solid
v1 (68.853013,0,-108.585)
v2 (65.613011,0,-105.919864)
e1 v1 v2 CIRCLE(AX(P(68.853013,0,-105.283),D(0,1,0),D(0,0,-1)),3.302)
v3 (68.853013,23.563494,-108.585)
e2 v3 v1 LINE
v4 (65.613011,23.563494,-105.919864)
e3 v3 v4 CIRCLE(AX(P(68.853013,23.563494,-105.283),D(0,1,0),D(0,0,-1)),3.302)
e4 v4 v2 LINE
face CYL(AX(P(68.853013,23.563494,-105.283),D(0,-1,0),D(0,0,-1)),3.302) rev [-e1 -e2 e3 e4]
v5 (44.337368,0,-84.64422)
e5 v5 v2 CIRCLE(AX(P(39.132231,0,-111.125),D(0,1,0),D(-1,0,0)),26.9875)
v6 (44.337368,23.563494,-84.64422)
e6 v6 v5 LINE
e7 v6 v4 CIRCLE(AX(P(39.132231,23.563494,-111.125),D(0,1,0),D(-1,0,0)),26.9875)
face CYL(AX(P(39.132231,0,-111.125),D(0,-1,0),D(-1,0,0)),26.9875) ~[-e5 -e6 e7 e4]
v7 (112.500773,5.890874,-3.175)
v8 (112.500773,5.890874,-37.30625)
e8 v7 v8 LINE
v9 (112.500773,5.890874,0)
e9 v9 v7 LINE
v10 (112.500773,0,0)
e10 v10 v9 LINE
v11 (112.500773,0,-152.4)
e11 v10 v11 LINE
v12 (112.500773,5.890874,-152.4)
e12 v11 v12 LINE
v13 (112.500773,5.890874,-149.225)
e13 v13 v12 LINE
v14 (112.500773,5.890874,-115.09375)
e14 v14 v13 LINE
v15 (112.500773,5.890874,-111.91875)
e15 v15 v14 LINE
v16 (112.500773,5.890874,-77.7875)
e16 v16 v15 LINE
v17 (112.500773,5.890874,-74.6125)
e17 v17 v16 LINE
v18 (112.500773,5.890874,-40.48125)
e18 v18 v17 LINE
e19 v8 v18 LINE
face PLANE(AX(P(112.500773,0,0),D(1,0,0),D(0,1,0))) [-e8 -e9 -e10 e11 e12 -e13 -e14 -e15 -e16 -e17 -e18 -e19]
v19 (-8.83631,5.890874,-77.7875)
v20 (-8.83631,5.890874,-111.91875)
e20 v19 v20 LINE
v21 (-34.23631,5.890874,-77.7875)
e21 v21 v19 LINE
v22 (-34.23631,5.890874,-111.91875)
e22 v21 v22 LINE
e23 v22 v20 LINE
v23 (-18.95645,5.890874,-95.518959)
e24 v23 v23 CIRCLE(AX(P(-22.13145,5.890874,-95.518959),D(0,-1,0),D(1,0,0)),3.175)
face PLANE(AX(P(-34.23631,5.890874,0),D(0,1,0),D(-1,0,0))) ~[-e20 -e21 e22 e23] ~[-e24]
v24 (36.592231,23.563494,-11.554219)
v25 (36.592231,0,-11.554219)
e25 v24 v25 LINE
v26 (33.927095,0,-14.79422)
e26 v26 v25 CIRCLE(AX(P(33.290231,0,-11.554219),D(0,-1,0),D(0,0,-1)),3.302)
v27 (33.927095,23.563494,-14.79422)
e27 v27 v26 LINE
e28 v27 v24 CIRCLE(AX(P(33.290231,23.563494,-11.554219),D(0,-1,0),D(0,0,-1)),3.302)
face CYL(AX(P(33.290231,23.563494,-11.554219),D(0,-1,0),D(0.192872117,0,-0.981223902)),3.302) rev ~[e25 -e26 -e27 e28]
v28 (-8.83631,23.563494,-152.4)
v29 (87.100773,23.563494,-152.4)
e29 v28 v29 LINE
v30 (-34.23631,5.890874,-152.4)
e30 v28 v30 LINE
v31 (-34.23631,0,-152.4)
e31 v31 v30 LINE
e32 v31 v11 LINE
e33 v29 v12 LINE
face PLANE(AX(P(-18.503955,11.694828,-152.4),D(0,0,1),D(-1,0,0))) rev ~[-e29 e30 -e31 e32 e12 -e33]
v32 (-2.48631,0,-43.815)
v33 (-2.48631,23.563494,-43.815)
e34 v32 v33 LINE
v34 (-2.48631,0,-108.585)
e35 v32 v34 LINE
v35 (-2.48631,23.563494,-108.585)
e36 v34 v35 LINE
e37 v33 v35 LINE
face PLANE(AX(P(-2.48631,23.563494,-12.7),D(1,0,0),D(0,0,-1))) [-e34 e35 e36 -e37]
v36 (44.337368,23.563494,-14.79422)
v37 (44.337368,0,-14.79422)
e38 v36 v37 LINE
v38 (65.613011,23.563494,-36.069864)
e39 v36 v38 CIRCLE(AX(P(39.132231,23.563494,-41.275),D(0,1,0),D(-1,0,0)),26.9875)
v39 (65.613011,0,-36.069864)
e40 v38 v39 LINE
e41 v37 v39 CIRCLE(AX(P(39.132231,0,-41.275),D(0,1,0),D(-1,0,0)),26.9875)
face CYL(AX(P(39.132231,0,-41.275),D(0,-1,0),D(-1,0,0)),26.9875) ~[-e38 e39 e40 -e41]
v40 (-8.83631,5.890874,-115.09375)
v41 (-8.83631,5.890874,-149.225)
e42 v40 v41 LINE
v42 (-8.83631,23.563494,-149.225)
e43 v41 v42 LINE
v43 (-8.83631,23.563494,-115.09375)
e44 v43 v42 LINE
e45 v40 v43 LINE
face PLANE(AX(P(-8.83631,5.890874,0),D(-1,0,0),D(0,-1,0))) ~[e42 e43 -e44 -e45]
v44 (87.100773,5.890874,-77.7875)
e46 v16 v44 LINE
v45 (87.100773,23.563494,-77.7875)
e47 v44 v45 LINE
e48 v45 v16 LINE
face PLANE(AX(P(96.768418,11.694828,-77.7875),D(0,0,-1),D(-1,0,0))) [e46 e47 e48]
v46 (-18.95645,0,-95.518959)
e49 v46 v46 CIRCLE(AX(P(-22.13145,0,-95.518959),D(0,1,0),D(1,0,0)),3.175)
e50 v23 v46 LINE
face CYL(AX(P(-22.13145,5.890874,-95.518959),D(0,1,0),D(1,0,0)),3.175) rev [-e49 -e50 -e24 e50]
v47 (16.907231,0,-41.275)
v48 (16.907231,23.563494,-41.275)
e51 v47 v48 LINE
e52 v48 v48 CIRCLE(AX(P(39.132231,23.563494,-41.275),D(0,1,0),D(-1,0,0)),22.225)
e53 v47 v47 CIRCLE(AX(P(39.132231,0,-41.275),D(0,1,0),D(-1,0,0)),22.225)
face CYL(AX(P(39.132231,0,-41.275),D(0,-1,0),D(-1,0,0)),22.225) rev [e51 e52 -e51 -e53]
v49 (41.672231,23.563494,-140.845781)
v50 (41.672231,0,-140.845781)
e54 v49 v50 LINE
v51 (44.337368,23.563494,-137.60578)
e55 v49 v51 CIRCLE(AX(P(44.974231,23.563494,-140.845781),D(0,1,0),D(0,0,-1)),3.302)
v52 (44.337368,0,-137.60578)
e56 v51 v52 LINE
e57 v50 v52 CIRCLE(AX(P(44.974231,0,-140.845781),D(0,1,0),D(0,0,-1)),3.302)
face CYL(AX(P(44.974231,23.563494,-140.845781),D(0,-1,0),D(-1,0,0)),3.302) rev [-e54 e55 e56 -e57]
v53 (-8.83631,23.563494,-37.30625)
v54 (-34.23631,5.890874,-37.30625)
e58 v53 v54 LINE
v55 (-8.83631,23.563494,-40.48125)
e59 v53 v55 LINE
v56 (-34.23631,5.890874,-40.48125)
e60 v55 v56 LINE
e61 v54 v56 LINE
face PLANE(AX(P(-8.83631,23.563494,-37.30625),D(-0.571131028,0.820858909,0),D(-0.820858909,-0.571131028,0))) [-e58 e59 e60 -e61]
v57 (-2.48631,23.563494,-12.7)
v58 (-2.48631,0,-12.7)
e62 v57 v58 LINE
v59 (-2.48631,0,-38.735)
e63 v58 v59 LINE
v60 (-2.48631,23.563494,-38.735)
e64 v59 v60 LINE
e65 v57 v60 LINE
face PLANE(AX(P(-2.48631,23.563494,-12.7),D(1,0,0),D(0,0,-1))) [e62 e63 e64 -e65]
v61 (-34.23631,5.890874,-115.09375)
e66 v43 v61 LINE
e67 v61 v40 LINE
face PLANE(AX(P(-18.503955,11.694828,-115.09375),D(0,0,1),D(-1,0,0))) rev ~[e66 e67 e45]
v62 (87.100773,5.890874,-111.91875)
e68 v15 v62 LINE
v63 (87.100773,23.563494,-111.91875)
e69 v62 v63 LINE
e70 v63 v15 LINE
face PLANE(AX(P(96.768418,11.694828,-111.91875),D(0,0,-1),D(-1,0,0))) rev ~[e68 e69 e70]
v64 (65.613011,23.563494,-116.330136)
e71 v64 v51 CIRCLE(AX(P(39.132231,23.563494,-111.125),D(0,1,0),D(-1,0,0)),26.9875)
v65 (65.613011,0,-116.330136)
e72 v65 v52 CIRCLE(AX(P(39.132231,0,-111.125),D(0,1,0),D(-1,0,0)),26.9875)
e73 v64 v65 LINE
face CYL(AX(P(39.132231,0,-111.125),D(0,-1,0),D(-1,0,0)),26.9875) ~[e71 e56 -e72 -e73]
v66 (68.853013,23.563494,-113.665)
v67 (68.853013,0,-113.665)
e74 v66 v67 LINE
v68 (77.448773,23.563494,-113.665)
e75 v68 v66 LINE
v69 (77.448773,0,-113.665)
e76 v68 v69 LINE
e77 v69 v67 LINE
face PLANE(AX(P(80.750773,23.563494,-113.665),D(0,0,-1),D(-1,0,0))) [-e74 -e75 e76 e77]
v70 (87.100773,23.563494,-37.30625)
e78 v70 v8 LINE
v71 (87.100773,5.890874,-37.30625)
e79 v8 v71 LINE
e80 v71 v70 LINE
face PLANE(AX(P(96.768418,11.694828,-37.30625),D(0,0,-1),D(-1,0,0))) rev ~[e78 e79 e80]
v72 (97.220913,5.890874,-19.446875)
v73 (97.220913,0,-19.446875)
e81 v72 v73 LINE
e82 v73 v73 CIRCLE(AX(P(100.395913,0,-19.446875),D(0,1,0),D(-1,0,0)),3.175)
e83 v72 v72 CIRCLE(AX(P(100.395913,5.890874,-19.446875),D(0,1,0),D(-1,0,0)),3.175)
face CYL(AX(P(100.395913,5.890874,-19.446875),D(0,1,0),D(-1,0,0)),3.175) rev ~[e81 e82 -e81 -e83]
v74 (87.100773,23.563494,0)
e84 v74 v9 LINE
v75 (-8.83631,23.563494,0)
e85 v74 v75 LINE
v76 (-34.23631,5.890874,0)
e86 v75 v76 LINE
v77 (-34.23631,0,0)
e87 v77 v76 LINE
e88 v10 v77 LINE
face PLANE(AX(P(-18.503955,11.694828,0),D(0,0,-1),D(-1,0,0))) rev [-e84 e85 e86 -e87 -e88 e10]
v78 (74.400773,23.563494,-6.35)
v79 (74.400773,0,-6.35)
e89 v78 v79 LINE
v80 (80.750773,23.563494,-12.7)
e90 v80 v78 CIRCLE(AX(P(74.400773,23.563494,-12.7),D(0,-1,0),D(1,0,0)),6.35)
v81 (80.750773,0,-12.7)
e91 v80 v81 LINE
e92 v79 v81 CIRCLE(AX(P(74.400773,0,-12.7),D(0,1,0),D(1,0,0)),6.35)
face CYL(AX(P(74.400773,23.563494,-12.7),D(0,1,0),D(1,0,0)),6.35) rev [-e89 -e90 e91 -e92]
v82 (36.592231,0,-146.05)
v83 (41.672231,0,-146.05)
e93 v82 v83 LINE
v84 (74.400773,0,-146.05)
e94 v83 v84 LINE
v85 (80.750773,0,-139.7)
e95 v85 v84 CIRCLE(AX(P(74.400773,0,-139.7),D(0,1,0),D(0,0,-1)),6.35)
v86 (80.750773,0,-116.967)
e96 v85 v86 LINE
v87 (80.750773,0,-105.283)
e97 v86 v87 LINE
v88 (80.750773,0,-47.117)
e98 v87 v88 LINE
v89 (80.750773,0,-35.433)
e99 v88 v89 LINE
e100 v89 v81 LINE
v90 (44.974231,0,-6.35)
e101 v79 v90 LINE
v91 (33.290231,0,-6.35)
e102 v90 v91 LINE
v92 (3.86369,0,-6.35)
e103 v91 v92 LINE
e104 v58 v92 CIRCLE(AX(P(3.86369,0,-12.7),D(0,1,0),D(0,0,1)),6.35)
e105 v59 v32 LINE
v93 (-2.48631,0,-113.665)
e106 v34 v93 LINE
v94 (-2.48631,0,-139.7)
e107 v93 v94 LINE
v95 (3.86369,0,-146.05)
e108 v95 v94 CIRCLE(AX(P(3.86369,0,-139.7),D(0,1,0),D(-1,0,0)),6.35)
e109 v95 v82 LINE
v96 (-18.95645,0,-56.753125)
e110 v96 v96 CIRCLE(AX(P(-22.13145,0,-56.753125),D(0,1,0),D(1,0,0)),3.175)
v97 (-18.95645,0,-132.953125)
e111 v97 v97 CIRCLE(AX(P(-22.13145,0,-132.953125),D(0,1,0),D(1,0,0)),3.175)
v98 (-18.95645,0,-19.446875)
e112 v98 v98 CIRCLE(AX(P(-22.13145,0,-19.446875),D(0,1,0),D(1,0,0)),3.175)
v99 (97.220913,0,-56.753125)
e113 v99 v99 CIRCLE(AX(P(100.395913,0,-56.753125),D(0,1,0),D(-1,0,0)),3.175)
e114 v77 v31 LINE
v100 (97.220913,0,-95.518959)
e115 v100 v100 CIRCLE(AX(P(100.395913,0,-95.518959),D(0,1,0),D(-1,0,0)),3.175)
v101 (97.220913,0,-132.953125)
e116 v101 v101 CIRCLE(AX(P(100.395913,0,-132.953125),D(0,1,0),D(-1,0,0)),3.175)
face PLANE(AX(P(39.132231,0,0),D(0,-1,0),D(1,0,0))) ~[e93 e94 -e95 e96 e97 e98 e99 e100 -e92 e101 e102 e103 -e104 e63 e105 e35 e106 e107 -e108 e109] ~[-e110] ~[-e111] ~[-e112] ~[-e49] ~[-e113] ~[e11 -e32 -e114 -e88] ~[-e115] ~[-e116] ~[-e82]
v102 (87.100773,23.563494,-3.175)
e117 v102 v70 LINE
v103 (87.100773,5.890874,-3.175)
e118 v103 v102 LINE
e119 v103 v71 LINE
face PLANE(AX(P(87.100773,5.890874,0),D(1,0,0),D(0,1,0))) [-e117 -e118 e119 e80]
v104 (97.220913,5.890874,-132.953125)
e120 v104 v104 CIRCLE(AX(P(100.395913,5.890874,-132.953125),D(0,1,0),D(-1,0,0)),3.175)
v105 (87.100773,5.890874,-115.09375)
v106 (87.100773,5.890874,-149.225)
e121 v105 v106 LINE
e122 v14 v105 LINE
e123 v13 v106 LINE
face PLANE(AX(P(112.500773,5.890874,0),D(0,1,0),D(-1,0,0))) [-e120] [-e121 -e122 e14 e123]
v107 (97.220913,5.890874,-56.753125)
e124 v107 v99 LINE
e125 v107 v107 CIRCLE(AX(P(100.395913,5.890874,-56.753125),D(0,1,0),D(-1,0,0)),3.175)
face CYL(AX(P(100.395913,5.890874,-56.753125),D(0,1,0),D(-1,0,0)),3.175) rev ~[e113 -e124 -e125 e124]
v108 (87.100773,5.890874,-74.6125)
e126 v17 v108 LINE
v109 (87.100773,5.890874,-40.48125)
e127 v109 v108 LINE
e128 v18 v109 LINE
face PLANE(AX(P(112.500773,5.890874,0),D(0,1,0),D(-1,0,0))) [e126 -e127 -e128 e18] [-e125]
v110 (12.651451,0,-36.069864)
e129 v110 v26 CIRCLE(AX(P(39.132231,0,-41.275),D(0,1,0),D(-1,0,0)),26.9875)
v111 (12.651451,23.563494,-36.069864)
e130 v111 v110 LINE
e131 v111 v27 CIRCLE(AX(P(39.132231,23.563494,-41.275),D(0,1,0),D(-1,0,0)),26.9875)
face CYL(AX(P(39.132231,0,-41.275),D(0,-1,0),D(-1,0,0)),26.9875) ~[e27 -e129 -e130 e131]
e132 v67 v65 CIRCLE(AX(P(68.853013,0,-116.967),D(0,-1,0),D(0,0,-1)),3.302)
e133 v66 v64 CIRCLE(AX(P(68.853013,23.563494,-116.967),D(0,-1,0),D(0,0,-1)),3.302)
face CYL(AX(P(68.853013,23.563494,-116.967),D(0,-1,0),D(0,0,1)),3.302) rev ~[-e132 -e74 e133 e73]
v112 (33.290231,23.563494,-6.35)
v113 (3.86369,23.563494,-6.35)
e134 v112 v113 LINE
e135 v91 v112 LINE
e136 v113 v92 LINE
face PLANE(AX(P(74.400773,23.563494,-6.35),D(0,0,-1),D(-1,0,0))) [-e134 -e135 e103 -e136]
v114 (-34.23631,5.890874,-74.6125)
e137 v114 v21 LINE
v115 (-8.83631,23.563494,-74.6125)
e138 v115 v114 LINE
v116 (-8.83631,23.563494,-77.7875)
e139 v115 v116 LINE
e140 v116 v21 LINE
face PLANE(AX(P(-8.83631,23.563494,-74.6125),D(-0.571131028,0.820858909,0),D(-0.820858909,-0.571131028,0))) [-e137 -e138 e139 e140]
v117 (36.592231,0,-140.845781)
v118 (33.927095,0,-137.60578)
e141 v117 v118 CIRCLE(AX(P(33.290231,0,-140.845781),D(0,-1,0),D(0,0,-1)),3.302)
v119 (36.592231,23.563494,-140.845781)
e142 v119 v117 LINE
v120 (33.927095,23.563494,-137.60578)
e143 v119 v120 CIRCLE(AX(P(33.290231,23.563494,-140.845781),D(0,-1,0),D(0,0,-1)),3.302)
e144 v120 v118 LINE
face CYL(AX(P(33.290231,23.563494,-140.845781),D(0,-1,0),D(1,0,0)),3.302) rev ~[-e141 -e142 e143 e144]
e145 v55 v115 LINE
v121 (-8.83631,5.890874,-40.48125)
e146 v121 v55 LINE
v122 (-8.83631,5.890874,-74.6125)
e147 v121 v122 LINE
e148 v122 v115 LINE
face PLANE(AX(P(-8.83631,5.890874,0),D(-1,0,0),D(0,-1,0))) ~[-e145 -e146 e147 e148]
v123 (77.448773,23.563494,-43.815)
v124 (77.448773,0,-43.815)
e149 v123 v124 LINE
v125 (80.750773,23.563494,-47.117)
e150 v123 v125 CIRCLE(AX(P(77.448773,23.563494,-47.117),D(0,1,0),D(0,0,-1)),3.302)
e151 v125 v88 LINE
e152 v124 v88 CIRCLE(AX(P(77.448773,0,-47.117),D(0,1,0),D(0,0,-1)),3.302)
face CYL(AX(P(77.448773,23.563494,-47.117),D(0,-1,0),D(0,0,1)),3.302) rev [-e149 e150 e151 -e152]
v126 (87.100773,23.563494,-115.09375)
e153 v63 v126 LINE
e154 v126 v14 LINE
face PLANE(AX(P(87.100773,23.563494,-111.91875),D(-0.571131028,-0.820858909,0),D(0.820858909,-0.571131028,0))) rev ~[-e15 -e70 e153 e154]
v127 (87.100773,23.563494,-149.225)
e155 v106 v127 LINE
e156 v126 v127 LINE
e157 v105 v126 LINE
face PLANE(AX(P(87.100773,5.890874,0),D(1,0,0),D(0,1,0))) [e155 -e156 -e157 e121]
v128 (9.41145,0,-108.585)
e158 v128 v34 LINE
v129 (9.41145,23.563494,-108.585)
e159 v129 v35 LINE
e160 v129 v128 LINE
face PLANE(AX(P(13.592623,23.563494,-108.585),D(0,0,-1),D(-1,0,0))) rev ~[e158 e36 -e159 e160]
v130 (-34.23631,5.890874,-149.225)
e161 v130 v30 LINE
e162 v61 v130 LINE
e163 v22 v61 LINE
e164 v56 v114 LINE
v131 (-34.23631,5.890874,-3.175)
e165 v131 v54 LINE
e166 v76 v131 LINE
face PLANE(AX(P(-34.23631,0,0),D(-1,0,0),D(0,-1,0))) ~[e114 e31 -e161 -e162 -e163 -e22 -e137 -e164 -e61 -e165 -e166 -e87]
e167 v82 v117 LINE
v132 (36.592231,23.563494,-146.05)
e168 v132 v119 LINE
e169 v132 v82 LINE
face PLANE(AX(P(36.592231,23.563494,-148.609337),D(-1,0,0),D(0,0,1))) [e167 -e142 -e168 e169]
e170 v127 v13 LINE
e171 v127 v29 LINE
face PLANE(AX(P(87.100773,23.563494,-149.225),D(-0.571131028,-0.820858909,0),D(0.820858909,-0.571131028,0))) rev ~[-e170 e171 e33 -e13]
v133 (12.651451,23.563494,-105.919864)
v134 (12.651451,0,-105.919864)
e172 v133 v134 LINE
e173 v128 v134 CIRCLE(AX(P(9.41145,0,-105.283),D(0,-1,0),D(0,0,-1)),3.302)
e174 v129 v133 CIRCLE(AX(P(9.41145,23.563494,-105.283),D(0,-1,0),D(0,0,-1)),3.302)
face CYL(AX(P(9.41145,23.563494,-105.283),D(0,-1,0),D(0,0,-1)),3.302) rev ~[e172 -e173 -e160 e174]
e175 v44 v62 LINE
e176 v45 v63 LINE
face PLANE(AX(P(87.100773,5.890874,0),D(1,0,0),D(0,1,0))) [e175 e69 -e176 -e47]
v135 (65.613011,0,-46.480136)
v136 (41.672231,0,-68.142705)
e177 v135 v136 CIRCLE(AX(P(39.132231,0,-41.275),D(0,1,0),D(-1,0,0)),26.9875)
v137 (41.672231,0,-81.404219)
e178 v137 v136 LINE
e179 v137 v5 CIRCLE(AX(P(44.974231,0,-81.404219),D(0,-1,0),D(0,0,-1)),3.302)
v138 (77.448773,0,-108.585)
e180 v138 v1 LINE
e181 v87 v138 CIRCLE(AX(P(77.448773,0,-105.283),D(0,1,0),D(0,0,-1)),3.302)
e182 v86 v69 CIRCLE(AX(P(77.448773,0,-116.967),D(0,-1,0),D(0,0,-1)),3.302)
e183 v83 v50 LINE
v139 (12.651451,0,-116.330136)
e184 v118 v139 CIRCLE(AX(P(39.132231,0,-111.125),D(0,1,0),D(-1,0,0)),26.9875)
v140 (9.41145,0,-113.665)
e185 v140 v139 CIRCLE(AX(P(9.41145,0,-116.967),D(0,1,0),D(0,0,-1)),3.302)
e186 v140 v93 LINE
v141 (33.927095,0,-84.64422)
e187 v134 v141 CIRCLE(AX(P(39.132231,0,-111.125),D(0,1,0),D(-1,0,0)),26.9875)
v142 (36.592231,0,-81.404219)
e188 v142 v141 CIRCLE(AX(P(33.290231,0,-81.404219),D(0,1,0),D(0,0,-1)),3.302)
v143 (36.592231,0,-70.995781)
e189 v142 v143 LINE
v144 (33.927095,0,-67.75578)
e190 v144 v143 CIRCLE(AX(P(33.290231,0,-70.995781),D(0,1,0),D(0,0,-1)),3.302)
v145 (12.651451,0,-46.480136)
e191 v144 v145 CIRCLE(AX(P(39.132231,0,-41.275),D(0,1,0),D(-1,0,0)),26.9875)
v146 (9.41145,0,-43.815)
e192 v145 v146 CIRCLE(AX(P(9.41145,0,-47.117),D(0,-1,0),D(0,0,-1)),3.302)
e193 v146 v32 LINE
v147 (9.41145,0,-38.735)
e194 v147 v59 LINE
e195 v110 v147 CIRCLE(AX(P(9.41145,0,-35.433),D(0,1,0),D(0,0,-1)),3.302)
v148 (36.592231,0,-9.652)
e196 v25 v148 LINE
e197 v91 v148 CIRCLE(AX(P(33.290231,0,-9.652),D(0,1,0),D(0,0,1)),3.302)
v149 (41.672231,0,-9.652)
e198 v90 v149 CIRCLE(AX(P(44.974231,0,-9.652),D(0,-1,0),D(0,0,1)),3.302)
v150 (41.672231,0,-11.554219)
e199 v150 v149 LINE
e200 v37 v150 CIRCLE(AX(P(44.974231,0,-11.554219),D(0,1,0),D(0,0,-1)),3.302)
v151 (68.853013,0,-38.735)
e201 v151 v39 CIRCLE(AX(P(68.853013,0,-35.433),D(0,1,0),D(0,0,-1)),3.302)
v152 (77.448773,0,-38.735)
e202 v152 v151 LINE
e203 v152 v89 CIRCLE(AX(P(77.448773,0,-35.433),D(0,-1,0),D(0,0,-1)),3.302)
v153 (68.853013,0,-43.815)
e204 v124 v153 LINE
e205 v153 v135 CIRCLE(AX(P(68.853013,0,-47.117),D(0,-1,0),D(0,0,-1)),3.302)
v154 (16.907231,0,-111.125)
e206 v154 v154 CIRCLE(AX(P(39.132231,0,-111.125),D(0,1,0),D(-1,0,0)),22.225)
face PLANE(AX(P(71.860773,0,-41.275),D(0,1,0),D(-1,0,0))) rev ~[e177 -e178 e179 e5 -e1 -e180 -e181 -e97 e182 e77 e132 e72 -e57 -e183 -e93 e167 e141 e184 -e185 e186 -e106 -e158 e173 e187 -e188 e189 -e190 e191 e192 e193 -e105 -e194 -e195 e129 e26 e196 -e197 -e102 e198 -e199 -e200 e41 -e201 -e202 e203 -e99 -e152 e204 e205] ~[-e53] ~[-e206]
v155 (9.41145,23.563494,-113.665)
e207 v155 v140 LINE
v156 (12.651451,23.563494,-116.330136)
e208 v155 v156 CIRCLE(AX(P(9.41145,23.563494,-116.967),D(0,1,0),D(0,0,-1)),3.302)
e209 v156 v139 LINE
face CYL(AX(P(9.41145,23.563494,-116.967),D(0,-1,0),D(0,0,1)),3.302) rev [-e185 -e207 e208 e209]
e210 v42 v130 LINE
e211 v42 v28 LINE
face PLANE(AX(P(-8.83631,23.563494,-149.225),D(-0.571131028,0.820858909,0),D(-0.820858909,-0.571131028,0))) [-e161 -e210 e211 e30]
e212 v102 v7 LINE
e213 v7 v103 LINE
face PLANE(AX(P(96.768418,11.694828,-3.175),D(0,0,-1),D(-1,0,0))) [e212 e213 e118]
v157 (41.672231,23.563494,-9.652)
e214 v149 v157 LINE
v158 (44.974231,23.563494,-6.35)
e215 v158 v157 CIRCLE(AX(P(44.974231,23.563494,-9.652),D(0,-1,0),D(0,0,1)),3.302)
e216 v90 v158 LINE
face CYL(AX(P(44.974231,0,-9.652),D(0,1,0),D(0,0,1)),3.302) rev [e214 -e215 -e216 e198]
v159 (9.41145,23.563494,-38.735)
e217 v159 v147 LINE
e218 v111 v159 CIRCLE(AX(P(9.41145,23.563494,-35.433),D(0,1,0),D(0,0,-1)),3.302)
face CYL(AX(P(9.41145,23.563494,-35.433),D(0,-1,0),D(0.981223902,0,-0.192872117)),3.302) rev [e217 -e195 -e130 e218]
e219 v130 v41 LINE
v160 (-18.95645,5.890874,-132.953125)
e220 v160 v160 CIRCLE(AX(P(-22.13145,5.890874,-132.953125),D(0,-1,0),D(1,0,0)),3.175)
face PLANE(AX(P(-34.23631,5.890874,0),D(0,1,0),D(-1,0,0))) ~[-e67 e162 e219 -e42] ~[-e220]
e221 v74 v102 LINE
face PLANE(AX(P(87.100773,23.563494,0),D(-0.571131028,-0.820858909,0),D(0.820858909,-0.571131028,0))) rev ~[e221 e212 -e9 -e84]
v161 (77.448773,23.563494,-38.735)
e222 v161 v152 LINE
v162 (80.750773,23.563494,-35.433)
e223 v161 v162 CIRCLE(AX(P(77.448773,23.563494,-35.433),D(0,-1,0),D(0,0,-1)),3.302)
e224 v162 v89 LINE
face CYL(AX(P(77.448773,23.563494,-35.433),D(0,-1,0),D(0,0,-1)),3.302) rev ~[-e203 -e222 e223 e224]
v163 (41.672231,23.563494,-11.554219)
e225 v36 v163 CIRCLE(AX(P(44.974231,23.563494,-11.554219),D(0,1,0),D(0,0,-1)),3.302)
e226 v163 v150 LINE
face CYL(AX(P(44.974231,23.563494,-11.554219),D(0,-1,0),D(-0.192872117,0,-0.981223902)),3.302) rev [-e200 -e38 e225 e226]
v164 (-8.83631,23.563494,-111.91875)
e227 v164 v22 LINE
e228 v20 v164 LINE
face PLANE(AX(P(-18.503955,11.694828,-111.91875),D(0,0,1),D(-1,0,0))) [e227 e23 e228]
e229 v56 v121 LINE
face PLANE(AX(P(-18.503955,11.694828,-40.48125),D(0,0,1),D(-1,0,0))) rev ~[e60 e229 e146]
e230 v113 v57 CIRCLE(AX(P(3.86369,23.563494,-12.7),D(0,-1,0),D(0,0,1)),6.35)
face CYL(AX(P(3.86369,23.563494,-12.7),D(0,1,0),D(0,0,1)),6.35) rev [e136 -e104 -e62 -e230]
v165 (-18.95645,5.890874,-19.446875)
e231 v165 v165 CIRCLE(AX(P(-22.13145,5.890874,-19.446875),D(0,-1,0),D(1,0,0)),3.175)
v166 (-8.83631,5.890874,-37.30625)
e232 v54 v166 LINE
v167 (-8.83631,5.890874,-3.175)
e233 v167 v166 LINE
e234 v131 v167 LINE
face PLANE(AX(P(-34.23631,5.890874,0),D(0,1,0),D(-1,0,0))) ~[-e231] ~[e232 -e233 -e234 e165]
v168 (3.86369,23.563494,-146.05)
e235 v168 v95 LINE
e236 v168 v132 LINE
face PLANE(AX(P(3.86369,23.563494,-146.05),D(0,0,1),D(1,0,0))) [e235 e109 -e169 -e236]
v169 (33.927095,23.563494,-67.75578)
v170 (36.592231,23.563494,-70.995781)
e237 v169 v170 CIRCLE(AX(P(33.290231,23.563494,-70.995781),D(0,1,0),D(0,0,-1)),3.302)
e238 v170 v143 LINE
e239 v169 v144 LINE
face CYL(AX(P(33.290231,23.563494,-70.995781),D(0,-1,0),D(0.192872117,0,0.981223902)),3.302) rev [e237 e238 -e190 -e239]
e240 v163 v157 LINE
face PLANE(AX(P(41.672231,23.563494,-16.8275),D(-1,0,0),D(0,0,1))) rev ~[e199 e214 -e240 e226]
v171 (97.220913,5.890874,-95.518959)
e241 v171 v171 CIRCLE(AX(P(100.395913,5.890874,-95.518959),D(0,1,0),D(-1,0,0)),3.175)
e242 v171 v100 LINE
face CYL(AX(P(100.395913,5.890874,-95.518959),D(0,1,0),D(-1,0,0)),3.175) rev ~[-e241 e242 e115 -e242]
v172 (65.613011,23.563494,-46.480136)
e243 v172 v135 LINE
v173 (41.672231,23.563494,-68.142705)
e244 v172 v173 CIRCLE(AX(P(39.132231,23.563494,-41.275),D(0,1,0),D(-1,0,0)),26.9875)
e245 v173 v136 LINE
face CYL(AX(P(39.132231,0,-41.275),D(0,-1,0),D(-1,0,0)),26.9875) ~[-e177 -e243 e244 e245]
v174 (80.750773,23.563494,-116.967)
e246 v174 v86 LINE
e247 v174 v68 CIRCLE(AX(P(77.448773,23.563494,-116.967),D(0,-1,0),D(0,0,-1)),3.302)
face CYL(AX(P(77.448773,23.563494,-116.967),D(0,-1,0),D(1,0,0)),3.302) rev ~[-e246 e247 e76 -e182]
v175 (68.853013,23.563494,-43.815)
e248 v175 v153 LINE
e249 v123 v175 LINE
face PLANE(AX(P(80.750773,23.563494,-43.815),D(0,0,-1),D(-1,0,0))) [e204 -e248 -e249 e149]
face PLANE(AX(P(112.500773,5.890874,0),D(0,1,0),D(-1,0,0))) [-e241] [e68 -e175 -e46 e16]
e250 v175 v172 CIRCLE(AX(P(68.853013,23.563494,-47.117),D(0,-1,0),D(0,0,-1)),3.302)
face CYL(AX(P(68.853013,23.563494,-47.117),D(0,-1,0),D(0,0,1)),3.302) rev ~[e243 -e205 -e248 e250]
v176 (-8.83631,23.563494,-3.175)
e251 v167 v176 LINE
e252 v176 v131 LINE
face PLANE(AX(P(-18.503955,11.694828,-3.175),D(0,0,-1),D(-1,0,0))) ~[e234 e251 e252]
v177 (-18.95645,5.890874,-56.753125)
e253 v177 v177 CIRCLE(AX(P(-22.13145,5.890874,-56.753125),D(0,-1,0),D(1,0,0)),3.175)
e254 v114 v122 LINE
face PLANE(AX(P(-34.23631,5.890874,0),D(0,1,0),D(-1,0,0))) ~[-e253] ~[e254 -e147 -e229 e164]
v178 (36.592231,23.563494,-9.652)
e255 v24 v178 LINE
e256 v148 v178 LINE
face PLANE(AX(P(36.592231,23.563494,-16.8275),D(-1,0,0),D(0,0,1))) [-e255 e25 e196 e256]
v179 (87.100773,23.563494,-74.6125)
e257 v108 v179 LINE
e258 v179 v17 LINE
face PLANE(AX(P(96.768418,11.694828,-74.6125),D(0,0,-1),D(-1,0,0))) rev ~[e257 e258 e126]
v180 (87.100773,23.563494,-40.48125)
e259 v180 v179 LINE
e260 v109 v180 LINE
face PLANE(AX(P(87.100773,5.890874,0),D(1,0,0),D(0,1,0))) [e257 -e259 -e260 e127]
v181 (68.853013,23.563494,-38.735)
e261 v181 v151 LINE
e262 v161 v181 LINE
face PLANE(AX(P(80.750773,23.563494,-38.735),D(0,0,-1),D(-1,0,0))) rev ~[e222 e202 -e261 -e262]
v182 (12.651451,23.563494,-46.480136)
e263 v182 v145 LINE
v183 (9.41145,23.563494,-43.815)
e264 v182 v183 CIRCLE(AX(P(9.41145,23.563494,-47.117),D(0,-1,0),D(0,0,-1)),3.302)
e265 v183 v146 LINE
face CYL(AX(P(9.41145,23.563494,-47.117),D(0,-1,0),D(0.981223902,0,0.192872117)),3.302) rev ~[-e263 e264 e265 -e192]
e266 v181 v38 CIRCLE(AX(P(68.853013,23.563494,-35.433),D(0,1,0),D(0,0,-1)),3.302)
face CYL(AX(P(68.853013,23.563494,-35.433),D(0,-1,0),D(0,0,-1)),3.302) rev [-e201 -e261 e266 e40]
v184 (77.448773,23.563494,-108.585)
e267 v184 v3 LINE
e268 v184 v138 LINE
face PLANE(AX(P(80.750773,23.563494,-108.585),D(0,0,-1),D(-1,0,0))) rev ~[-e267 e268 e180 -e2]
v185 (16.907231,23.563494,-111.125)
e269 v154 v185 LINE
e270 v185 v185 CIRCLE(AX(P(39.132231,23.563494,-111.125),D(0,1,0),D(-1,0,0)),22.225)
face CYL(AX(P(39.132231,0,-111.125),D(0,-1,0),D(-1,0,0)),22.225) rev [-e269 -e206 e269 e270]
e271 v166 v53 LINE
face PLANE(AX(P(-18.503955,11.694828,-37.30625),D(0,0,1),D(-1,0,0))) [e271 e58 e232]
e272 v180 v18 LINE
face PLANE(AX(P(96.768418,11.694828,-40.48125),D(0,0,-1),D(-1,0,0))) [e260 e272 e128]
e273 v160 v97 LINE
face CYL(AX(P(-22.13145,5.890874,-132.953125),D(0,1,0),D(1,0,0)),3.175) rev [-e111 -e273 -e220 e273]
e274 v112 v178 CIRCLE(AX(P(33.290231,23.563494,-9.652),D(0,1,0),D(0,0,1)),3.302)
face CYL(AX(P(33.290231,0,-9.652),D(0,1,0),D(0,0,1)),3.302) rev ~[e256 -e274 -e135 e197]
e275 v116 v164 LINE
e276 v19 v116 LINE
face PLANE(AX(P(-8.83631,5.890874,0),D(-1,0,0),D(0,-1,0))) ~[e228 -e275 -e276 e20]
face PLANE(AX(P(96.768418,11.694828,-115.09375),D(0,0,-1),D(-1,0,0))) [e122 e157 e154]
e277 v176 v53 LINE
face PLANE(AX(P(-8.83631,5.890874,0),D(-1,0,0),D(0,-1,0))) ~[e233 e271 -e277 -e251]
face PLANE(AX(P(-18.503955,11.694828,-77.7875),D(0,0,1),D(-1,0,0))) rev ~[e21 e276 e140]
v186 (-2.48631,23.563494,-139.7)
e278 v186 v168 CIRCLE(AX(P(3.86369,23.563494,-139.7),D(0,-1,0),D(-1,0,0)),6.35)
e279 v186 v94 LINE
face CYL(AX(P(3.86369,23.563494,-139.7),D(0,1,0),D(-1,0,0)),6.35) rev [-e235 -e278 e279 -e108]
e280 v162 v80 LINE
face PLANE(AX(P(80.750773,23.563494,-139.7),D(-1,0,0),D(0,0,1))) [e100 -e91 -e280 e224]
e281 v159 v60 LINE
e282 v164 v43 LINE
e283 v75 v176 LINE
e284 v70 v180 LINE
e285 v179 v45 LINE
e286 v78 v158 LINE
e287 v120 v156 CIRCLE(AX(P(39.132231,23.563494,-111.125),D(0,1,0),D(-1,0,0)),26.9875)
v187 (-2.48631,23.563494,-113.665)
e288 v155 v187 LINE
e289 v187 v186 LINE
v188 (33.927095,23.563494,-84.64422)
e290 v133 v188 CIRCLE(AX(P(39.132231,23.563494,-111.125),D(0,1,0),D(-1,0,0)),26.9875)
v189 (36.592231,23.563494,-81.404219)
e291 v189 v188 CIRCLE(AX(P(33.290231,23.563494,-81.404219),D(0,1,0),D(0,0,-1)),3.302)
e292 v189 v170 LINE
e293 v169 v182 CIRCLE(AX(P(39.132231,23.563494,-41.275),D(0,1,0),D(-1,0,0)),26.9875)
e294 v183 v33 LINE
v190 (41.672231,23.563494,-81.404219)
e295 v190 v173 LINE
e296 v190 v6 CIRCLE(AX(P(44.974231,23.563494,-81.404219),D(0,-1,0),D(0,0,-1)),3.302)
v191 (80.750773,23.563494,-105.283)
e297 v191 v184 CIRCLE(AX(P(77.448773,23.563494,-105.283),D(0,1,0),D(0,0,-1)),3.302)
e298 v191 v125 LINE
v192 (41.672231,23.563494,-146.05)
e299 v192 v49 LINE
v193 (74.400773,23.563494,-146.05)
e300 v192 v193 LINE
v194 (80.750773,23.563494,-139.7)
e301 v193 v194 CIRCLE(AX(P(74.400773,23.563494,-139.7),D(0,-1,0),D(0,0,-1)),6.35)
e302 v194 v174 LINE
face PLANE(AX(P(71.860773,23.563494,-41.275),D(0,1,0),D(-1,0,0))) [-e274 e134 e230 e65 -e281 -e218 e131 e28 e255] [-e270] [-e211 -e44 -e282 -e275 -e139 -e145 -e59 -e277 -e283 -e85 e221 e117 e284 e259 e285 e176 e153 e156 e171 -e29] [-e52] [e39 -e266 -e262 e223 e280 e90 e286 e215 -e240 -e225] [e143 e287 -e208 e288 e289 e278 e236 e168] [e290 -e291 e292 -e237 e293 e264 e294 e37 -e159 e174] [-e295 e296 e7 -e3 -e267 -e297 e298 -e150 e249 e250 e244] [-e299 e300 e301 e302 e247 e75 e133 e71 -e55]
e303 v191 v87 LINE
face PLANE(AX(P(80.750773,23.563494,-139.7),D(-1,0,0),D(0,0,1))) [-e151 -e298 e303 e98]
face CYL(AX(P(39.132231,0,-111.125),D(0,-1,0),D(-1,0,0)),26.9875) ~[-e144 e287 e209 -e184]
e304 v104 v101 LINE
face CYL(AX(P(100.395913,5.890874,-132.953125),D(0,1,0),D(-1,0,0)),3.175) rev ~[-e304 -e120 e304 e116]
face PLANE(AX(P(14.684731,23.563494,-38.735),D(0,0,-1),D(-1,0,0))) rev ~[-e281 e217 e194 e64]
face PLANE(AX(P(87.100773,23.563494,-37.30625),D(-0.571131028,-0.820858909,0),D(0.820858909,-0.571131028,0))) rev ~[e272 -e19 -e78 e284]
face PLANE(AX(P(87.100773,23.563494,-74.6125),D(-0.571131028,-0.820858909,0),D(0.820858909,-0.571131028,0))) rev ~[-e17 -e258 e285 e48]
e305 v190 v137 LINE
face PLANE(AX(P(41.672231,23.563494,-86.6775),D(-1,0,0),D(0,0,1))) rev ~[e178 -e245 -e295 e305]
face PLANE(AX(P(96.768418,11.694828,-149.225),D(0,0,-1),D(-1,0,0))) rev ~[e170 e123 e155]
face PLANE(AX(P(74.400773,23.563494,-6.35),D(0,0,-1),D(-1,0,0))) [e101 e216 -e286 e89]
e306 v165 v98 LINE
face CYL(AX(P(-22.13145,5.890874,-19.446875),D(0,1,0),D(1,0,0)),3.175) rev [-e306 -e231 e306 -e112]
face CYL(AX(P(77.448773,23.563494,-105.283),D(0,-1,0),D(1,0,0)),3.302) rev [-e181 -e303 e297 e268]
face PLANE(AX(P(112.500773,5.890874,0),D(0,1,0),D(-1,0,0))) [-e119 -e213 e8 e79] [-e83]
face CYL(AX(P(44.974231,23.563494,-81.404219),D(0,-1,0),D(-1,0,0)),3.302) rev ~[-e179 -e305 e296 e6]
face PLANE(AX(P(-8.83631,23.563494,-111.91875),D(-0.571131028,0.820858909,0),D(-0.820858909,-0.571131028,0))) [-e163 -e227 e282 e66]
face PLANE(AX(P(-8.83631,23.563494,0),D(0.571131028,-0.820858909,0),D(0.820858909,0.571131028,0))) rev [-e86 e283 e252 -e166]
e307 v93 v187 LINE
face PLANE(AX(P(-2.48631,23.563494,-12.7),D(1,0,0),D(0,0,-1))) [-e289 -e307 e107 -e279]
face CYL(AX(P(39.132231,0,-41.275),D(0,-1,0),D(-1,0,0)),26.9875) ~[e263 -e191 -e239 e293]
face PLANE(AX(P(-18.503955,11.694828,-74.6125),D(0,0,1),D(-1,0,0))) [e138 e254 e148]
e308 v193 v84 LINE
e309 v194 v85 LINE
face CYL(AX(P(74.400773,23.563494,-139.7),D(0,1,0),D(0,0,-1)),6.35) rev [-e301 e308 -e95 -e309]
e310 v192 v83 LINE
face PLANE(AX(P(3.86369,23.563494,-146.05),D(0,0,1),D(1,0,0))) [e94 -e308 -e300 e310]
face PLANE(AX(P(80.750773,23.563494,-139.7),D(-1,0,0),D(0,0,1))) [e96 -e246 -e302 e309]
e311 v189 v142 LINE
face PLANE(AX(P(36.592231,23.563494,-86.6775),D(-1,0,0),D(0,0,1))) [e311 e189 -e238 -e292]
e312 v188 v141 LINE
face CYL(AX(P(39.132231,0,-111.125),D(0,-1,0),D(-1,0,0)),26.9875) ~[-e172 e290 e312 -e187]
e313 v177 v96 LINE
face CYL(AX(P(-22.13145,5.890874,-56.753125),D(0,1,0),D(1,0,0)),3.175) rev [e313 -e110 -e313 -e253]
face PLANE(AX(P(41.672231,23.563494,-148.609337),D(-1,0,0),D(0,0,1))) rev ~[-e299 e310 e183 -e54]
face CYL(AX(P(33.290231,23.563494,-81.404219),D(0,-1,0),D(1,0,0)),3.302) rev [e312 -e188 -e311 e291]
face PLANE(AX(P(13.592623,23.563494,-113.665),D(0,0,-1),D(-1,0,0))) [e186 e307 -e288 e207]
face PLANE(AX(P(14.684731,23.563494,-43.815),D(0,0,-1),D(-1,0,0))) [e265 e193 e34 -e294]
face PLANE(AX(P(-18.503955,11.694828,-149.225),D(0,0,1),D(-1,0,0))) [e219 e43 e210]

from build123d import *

# Parameters (mm, degrees)
EXTRUDE1_DEPTH        = 152.4
EXTRUDE2_DEPTH        = 3.175
SKETCH8_R             = 3.175
EXTRUDE4_DEPTH        = 191.248536063
LPATTERN1_COUNT       = 5
LPATTERN1_PITCH       = 37.30625
MIRROR5_COPY_1_DEPTH  = 3.175
MIRROR5_COPY_2_DEPTH  = 3.175
MIRROR5_COPY_3_DEPTH  = 3.175
MIRROR5_COPY_4_DEPTH  = 3.175
EXTRUDE5_DEPTH        = 25.4
EXTRUDE_THIN2_START   = -23.563494
SKETCH12_R            = 26.9875
SKETCH12_R_2          = 22.225
EXTRUDE_THIN2_DEPTH   = 23.563494
EXTRUDE_THIN2_2_DEPTH = 23.563494
SKETCH13_W            = 17.78
SKETCH13_H            = 5.08
SKETCH13_W_2          = 5.08
SKETCH13_H_2          = 13.97
SKETCH13_H_3          = 20.32
SKETCH13_W_3          = 19.05
SKETCH13_W_4          = 16.51
SKETCH13_H_4          = 12.685889217
SKETCH13_W_5          = 15.24
EXTRUDE6_DEPTH        = 23.563494
FILLET1_R             = 3.302


with BuildPart() as part:
    # Sketch1 → Extrude1 (new body)
    with BuildSketch(Plane.XY):
        Polygon((39.132231405, 0), (112.500773126, 0), (112.500773126, 5.890873545), (87.100773126, 5.890873545), (87.100773126, 23.563494179), (39.132231405, 23.563494179), align=None)
    extrude1 = extrude(amount=-EXTRUDE1_DEPTH)

    # Mirror1: Extrude1 across plane
    add(extrude1.mirror(Plane(origin=(39.132231405, 23.563494179, -152.4), x_dir=(0, 0, 1), z_dir=(-1, 0, 0))))

    # Sketch6 → Extrude2 (add)
    with BuildSketch(Plane.XY):
        Polygon((87.100773126, 23.563494179), (112.500773126, 5.890873545), (87.100773126, 5.890873545), align=None)
    extrude2 = extrude(amount=-EXTRUDE2_DEPTH)

    # Sketch8 → Extrude4 (cut, through all)
    with BuildSketch(Plane(origin=(0, 5.890873545, 0), x_dir=(-1, 0, 0), z_dir=(0, 1, 0))):
        with Locations((-100.395913074, -19.446875)):
            Circle(SKETCH8_R)
        with Locations((-100.395913074, -56.753125)):
            Circle(SKETCH8_R)
        with Locations((-100.395913074, -95.518958881)):
            Circle(SKETCH8_R)
        with Locations((-100.395913074, -132.953125)):
            Circle(SKETCH8_R)
    extrude4 = extrude(amount=-EXTRUDE4_DEPTH, mode=Mode.SUBTRACT)

    # LPattern1: Extrude2 ×5
    with Locations(*[(0, 0, -i * LPATTERN1_PITCH) for i in range(1, LPATTERN1_COUNT)]):
        add(extrude2)

    # Mirror5: Extrude2, Extrude4 across plane
    add(extrude2.mirror(Plane(origin=(39.132231405, 0, 0), x_dir=(0, 0, 1), z_dir=(1, 0, 0))))
    add(extrude4.mirror(Plane(origin=(39.132231405, 0, 0), x_dir=(0, 0, 1), z_dir=(1, 0, 0))), mode=Mode.SUBTRACT)

    # Mirror5 copy 1 sketch → Mirror5 copy 1 (add)
    with BuildSketch(Plane(origin=(78.264462809, 0, -37.30625), x_dir=(-1, 0, 0), z_dir=(0, 0, 1))):
        Polygon((87.100773126, -23.563494179), (112.500773126, -5.890873545), (87.100773126, -5.890873545), align=None)
    extrude(amount=-MIRROR5_COPY_1_DEPTH)

    # Mirror5 copy 2 sketch → Mirror5 copy 2 (add)
    with BuildSketch(Plane(origin=(78.264462809, 0, -74.6125), x_dir=(-1, 0, 0), z_dir=(0, 0, 1))):
        Polygon((87.100773126, -23.563494179), (112.500773126, -5.890873545), (87.100773126, -5.890873545), align=None)
    extrude(amount=-MIRROR5_COPY_2_DEPTH)

    # Mirror5 copy 3 sketch → Mirror5 copy 3 (add)
    with BuildSketch(Plane(origin=(78.264462809, 0, -111.91875), x_dir=(-1, 0, 0), z_dir=(0, 0, 1))):
        Polygon((87.100773126, -23.563494179), (112.500773126, -5.890873545), (87.100773126, -5.890873545), align=None)
    extrude(amount=-MIRROR5_COPY_3_DEPTH)

    # Mirror5 copy 4 sketch → Mirror5 copy 4 (add)
    with BuildSketch(Plane(origin=(78.264462809, 0, -149.225), x_dir=(-1, 0, 0), z_dir=(0, 0, 1))):
        Polygon((87.100773126, -23.563494179), (112.500773126, -5.890873545), (87.100773126, -5.890873545), align=None)
    extrude(amount=-MIRROR5_COPY_4_DEPTH)

    # Sketch11 → Extrude5 (cut)
    with BuildSketch(Plane(origin=(0, 23.563494179, 0), x_dir=(-1, 0, 0), z_dir=(0, 1, 0))):
        with BuildLine():
            Line((-80.750773126, -139.7), (-80.750773126, -12.7))
            ThreePointArc((-80.750773126, -12.7), (-78.890901187, -8.209871939), (-74.400773126, -6.35))
            Line((-74.400773126, -6.35), (-3.863689683, -6.35))
            ThreePointArc((-3.863689683, -6.35), (0.626438378, -8.209871939), (2.486310317, -12.7))
            Line((2.486310317, -12.7), (2.486310317, -139.7))
            ThreePointArc((2.486310317, -139.7), (0.626438378, -144.190128061), (-3.863689683, -146.05))
            Line((-3.863689683, -146.05), (-74.400773126, -146.05))
            ThreePointArc((-74.400773126, -146.05), (-78.890901187, -144.190128061), (-80.750773126, -139.7))
        make_face()
    extrude(amount=-EXTRUDE5_DEPTH, mode=Mode.SUBTRACT)



with BuildPart() as body_2:
    # Sketch12 → Extrude-Thin2 (new body)
    with BuildSketch(Plane(origin=(0, 23.563494179, 0), x_dir=(-1, 0, 0), z_dir=(0, 1, 0)).offset(EXTRUDE_THIN2_START)):
        with Locations((-39.132231405, -41.275)):
            Circle(SKETCH12_R)
        with Locations((-39.132231405, -41.275)):
            Circle(SKETCH12_R_2, mode=Mode.SUBTRACT)
    extrude(amount=EXTRUDE_THIN2_DEPTH)


with BuildPart() as body_3:
    # Sketch12 → Extrude-Thin2 2 (new body)
    with BuildSketch(Plane(origin=(0, 23.563494179, 0), x_dir=(-1, 0, 0), z_dir=(0, 1, 0)).offset(EXTRUDE_THIN2_START)):
        with Locations((-39.132231405, -111.125)):
            Circle(SKETCH12_R)
        with Locations((-39.132231405, -111.125)):
            Circle(SKETCH12_R_2, mode=Mode.SUBTRACT)
    extrude(amount=EXTRUDE_THIN2_2_DEPTH)


with BuildPart() as part_1:
    add(part.part)

    add(body_2.part)  # Extrude6 merges body 2

    add(body_3.part)  # Extrude6 merges body 3
    # Sketch13 → Extrude6 (add)
    with BuildSketch(Plane(origin=(0, 23.563494179, 0), x_dir=(-1, 0, 0), z_dir=(0, 1, 0))):
        with Locations((-71.860773126, -41.275)):
            Rectangle(SKETCH13_W, SKETCH13_H)
        with Locations((-39.132231405, -9.8425)):
            Rectangle(SKETCH13_W_2, SKETCH13_H_2)
        with Locations((-39.132231405, -76.5175)):
            Rectangle(SKETCH13_W_2, SKETCH13_H_3)
        with Locations((-5.159731405, -41.275)):
            Rectangle(SKETCH13_W_3, SKETCH13_H)
        with Locations((-5.337623018, -111.125)):
            Rectangle(SKETCH13_W_4, SKETCH13_H)
        with Locations((-39.132231405, -142.266392139)):
            Rectangle(SKETCH13_W_2, SKETCH13_H_4)
        with Locations((-73.130773126, -111.125)):
            Rectangle(SKETCH13_W_5, SKETCH13_H)
    extrude(amount=-EXTRUDE6_DEPTH)

    # Fillet1
    fillet1_edges = [part_1.edges().sort_by_distance(p)[0] for p in [
        (36.592231405, 11.781747179, -6.35),
        (41.672231405, 11.781747179, -6.35),
        (36.592231405, 11.781747179, -14.407295292),
        (41.672231405, 11.781747179, -14.407295292),
        (36.592231405, 11.781747179, -68.142704708),
        (36.592231405, 11.781747179, -84.257295292),
        (41.672231405, 11.781747179, -84.257295292),
        (41.672231405, 11.781747179, -137.992704708),
        (36.592231405, 11.781747179, -137.992704708),
        (12.264526697, 11.781747179, -108.585),
        (12.264526697, 11.781747179, -113.665),
        (65.999936112, 11.781747179, -113.665),
        (65.999936112, 11.781747179, -108.585),
        (80.750773126, 11.781747179, -113.665),
        (80.750773126, 11.781747179, -108.585),
        (12.264526697, 11.781747179, -38.735),
        (12.264526697, 11.781747179, -43.815),
        (65.999936112, 11.781747179, -43.815),
        (80.750773126, 11.781747179, -43.815),
        (65.999936112, 11.781747179, -38.735),
        (80.750773126, 11.781747179, -38.735),
    ]]
    fillet(fillet1_edges, radius=FILLET1_R)


solid = part_1.part
